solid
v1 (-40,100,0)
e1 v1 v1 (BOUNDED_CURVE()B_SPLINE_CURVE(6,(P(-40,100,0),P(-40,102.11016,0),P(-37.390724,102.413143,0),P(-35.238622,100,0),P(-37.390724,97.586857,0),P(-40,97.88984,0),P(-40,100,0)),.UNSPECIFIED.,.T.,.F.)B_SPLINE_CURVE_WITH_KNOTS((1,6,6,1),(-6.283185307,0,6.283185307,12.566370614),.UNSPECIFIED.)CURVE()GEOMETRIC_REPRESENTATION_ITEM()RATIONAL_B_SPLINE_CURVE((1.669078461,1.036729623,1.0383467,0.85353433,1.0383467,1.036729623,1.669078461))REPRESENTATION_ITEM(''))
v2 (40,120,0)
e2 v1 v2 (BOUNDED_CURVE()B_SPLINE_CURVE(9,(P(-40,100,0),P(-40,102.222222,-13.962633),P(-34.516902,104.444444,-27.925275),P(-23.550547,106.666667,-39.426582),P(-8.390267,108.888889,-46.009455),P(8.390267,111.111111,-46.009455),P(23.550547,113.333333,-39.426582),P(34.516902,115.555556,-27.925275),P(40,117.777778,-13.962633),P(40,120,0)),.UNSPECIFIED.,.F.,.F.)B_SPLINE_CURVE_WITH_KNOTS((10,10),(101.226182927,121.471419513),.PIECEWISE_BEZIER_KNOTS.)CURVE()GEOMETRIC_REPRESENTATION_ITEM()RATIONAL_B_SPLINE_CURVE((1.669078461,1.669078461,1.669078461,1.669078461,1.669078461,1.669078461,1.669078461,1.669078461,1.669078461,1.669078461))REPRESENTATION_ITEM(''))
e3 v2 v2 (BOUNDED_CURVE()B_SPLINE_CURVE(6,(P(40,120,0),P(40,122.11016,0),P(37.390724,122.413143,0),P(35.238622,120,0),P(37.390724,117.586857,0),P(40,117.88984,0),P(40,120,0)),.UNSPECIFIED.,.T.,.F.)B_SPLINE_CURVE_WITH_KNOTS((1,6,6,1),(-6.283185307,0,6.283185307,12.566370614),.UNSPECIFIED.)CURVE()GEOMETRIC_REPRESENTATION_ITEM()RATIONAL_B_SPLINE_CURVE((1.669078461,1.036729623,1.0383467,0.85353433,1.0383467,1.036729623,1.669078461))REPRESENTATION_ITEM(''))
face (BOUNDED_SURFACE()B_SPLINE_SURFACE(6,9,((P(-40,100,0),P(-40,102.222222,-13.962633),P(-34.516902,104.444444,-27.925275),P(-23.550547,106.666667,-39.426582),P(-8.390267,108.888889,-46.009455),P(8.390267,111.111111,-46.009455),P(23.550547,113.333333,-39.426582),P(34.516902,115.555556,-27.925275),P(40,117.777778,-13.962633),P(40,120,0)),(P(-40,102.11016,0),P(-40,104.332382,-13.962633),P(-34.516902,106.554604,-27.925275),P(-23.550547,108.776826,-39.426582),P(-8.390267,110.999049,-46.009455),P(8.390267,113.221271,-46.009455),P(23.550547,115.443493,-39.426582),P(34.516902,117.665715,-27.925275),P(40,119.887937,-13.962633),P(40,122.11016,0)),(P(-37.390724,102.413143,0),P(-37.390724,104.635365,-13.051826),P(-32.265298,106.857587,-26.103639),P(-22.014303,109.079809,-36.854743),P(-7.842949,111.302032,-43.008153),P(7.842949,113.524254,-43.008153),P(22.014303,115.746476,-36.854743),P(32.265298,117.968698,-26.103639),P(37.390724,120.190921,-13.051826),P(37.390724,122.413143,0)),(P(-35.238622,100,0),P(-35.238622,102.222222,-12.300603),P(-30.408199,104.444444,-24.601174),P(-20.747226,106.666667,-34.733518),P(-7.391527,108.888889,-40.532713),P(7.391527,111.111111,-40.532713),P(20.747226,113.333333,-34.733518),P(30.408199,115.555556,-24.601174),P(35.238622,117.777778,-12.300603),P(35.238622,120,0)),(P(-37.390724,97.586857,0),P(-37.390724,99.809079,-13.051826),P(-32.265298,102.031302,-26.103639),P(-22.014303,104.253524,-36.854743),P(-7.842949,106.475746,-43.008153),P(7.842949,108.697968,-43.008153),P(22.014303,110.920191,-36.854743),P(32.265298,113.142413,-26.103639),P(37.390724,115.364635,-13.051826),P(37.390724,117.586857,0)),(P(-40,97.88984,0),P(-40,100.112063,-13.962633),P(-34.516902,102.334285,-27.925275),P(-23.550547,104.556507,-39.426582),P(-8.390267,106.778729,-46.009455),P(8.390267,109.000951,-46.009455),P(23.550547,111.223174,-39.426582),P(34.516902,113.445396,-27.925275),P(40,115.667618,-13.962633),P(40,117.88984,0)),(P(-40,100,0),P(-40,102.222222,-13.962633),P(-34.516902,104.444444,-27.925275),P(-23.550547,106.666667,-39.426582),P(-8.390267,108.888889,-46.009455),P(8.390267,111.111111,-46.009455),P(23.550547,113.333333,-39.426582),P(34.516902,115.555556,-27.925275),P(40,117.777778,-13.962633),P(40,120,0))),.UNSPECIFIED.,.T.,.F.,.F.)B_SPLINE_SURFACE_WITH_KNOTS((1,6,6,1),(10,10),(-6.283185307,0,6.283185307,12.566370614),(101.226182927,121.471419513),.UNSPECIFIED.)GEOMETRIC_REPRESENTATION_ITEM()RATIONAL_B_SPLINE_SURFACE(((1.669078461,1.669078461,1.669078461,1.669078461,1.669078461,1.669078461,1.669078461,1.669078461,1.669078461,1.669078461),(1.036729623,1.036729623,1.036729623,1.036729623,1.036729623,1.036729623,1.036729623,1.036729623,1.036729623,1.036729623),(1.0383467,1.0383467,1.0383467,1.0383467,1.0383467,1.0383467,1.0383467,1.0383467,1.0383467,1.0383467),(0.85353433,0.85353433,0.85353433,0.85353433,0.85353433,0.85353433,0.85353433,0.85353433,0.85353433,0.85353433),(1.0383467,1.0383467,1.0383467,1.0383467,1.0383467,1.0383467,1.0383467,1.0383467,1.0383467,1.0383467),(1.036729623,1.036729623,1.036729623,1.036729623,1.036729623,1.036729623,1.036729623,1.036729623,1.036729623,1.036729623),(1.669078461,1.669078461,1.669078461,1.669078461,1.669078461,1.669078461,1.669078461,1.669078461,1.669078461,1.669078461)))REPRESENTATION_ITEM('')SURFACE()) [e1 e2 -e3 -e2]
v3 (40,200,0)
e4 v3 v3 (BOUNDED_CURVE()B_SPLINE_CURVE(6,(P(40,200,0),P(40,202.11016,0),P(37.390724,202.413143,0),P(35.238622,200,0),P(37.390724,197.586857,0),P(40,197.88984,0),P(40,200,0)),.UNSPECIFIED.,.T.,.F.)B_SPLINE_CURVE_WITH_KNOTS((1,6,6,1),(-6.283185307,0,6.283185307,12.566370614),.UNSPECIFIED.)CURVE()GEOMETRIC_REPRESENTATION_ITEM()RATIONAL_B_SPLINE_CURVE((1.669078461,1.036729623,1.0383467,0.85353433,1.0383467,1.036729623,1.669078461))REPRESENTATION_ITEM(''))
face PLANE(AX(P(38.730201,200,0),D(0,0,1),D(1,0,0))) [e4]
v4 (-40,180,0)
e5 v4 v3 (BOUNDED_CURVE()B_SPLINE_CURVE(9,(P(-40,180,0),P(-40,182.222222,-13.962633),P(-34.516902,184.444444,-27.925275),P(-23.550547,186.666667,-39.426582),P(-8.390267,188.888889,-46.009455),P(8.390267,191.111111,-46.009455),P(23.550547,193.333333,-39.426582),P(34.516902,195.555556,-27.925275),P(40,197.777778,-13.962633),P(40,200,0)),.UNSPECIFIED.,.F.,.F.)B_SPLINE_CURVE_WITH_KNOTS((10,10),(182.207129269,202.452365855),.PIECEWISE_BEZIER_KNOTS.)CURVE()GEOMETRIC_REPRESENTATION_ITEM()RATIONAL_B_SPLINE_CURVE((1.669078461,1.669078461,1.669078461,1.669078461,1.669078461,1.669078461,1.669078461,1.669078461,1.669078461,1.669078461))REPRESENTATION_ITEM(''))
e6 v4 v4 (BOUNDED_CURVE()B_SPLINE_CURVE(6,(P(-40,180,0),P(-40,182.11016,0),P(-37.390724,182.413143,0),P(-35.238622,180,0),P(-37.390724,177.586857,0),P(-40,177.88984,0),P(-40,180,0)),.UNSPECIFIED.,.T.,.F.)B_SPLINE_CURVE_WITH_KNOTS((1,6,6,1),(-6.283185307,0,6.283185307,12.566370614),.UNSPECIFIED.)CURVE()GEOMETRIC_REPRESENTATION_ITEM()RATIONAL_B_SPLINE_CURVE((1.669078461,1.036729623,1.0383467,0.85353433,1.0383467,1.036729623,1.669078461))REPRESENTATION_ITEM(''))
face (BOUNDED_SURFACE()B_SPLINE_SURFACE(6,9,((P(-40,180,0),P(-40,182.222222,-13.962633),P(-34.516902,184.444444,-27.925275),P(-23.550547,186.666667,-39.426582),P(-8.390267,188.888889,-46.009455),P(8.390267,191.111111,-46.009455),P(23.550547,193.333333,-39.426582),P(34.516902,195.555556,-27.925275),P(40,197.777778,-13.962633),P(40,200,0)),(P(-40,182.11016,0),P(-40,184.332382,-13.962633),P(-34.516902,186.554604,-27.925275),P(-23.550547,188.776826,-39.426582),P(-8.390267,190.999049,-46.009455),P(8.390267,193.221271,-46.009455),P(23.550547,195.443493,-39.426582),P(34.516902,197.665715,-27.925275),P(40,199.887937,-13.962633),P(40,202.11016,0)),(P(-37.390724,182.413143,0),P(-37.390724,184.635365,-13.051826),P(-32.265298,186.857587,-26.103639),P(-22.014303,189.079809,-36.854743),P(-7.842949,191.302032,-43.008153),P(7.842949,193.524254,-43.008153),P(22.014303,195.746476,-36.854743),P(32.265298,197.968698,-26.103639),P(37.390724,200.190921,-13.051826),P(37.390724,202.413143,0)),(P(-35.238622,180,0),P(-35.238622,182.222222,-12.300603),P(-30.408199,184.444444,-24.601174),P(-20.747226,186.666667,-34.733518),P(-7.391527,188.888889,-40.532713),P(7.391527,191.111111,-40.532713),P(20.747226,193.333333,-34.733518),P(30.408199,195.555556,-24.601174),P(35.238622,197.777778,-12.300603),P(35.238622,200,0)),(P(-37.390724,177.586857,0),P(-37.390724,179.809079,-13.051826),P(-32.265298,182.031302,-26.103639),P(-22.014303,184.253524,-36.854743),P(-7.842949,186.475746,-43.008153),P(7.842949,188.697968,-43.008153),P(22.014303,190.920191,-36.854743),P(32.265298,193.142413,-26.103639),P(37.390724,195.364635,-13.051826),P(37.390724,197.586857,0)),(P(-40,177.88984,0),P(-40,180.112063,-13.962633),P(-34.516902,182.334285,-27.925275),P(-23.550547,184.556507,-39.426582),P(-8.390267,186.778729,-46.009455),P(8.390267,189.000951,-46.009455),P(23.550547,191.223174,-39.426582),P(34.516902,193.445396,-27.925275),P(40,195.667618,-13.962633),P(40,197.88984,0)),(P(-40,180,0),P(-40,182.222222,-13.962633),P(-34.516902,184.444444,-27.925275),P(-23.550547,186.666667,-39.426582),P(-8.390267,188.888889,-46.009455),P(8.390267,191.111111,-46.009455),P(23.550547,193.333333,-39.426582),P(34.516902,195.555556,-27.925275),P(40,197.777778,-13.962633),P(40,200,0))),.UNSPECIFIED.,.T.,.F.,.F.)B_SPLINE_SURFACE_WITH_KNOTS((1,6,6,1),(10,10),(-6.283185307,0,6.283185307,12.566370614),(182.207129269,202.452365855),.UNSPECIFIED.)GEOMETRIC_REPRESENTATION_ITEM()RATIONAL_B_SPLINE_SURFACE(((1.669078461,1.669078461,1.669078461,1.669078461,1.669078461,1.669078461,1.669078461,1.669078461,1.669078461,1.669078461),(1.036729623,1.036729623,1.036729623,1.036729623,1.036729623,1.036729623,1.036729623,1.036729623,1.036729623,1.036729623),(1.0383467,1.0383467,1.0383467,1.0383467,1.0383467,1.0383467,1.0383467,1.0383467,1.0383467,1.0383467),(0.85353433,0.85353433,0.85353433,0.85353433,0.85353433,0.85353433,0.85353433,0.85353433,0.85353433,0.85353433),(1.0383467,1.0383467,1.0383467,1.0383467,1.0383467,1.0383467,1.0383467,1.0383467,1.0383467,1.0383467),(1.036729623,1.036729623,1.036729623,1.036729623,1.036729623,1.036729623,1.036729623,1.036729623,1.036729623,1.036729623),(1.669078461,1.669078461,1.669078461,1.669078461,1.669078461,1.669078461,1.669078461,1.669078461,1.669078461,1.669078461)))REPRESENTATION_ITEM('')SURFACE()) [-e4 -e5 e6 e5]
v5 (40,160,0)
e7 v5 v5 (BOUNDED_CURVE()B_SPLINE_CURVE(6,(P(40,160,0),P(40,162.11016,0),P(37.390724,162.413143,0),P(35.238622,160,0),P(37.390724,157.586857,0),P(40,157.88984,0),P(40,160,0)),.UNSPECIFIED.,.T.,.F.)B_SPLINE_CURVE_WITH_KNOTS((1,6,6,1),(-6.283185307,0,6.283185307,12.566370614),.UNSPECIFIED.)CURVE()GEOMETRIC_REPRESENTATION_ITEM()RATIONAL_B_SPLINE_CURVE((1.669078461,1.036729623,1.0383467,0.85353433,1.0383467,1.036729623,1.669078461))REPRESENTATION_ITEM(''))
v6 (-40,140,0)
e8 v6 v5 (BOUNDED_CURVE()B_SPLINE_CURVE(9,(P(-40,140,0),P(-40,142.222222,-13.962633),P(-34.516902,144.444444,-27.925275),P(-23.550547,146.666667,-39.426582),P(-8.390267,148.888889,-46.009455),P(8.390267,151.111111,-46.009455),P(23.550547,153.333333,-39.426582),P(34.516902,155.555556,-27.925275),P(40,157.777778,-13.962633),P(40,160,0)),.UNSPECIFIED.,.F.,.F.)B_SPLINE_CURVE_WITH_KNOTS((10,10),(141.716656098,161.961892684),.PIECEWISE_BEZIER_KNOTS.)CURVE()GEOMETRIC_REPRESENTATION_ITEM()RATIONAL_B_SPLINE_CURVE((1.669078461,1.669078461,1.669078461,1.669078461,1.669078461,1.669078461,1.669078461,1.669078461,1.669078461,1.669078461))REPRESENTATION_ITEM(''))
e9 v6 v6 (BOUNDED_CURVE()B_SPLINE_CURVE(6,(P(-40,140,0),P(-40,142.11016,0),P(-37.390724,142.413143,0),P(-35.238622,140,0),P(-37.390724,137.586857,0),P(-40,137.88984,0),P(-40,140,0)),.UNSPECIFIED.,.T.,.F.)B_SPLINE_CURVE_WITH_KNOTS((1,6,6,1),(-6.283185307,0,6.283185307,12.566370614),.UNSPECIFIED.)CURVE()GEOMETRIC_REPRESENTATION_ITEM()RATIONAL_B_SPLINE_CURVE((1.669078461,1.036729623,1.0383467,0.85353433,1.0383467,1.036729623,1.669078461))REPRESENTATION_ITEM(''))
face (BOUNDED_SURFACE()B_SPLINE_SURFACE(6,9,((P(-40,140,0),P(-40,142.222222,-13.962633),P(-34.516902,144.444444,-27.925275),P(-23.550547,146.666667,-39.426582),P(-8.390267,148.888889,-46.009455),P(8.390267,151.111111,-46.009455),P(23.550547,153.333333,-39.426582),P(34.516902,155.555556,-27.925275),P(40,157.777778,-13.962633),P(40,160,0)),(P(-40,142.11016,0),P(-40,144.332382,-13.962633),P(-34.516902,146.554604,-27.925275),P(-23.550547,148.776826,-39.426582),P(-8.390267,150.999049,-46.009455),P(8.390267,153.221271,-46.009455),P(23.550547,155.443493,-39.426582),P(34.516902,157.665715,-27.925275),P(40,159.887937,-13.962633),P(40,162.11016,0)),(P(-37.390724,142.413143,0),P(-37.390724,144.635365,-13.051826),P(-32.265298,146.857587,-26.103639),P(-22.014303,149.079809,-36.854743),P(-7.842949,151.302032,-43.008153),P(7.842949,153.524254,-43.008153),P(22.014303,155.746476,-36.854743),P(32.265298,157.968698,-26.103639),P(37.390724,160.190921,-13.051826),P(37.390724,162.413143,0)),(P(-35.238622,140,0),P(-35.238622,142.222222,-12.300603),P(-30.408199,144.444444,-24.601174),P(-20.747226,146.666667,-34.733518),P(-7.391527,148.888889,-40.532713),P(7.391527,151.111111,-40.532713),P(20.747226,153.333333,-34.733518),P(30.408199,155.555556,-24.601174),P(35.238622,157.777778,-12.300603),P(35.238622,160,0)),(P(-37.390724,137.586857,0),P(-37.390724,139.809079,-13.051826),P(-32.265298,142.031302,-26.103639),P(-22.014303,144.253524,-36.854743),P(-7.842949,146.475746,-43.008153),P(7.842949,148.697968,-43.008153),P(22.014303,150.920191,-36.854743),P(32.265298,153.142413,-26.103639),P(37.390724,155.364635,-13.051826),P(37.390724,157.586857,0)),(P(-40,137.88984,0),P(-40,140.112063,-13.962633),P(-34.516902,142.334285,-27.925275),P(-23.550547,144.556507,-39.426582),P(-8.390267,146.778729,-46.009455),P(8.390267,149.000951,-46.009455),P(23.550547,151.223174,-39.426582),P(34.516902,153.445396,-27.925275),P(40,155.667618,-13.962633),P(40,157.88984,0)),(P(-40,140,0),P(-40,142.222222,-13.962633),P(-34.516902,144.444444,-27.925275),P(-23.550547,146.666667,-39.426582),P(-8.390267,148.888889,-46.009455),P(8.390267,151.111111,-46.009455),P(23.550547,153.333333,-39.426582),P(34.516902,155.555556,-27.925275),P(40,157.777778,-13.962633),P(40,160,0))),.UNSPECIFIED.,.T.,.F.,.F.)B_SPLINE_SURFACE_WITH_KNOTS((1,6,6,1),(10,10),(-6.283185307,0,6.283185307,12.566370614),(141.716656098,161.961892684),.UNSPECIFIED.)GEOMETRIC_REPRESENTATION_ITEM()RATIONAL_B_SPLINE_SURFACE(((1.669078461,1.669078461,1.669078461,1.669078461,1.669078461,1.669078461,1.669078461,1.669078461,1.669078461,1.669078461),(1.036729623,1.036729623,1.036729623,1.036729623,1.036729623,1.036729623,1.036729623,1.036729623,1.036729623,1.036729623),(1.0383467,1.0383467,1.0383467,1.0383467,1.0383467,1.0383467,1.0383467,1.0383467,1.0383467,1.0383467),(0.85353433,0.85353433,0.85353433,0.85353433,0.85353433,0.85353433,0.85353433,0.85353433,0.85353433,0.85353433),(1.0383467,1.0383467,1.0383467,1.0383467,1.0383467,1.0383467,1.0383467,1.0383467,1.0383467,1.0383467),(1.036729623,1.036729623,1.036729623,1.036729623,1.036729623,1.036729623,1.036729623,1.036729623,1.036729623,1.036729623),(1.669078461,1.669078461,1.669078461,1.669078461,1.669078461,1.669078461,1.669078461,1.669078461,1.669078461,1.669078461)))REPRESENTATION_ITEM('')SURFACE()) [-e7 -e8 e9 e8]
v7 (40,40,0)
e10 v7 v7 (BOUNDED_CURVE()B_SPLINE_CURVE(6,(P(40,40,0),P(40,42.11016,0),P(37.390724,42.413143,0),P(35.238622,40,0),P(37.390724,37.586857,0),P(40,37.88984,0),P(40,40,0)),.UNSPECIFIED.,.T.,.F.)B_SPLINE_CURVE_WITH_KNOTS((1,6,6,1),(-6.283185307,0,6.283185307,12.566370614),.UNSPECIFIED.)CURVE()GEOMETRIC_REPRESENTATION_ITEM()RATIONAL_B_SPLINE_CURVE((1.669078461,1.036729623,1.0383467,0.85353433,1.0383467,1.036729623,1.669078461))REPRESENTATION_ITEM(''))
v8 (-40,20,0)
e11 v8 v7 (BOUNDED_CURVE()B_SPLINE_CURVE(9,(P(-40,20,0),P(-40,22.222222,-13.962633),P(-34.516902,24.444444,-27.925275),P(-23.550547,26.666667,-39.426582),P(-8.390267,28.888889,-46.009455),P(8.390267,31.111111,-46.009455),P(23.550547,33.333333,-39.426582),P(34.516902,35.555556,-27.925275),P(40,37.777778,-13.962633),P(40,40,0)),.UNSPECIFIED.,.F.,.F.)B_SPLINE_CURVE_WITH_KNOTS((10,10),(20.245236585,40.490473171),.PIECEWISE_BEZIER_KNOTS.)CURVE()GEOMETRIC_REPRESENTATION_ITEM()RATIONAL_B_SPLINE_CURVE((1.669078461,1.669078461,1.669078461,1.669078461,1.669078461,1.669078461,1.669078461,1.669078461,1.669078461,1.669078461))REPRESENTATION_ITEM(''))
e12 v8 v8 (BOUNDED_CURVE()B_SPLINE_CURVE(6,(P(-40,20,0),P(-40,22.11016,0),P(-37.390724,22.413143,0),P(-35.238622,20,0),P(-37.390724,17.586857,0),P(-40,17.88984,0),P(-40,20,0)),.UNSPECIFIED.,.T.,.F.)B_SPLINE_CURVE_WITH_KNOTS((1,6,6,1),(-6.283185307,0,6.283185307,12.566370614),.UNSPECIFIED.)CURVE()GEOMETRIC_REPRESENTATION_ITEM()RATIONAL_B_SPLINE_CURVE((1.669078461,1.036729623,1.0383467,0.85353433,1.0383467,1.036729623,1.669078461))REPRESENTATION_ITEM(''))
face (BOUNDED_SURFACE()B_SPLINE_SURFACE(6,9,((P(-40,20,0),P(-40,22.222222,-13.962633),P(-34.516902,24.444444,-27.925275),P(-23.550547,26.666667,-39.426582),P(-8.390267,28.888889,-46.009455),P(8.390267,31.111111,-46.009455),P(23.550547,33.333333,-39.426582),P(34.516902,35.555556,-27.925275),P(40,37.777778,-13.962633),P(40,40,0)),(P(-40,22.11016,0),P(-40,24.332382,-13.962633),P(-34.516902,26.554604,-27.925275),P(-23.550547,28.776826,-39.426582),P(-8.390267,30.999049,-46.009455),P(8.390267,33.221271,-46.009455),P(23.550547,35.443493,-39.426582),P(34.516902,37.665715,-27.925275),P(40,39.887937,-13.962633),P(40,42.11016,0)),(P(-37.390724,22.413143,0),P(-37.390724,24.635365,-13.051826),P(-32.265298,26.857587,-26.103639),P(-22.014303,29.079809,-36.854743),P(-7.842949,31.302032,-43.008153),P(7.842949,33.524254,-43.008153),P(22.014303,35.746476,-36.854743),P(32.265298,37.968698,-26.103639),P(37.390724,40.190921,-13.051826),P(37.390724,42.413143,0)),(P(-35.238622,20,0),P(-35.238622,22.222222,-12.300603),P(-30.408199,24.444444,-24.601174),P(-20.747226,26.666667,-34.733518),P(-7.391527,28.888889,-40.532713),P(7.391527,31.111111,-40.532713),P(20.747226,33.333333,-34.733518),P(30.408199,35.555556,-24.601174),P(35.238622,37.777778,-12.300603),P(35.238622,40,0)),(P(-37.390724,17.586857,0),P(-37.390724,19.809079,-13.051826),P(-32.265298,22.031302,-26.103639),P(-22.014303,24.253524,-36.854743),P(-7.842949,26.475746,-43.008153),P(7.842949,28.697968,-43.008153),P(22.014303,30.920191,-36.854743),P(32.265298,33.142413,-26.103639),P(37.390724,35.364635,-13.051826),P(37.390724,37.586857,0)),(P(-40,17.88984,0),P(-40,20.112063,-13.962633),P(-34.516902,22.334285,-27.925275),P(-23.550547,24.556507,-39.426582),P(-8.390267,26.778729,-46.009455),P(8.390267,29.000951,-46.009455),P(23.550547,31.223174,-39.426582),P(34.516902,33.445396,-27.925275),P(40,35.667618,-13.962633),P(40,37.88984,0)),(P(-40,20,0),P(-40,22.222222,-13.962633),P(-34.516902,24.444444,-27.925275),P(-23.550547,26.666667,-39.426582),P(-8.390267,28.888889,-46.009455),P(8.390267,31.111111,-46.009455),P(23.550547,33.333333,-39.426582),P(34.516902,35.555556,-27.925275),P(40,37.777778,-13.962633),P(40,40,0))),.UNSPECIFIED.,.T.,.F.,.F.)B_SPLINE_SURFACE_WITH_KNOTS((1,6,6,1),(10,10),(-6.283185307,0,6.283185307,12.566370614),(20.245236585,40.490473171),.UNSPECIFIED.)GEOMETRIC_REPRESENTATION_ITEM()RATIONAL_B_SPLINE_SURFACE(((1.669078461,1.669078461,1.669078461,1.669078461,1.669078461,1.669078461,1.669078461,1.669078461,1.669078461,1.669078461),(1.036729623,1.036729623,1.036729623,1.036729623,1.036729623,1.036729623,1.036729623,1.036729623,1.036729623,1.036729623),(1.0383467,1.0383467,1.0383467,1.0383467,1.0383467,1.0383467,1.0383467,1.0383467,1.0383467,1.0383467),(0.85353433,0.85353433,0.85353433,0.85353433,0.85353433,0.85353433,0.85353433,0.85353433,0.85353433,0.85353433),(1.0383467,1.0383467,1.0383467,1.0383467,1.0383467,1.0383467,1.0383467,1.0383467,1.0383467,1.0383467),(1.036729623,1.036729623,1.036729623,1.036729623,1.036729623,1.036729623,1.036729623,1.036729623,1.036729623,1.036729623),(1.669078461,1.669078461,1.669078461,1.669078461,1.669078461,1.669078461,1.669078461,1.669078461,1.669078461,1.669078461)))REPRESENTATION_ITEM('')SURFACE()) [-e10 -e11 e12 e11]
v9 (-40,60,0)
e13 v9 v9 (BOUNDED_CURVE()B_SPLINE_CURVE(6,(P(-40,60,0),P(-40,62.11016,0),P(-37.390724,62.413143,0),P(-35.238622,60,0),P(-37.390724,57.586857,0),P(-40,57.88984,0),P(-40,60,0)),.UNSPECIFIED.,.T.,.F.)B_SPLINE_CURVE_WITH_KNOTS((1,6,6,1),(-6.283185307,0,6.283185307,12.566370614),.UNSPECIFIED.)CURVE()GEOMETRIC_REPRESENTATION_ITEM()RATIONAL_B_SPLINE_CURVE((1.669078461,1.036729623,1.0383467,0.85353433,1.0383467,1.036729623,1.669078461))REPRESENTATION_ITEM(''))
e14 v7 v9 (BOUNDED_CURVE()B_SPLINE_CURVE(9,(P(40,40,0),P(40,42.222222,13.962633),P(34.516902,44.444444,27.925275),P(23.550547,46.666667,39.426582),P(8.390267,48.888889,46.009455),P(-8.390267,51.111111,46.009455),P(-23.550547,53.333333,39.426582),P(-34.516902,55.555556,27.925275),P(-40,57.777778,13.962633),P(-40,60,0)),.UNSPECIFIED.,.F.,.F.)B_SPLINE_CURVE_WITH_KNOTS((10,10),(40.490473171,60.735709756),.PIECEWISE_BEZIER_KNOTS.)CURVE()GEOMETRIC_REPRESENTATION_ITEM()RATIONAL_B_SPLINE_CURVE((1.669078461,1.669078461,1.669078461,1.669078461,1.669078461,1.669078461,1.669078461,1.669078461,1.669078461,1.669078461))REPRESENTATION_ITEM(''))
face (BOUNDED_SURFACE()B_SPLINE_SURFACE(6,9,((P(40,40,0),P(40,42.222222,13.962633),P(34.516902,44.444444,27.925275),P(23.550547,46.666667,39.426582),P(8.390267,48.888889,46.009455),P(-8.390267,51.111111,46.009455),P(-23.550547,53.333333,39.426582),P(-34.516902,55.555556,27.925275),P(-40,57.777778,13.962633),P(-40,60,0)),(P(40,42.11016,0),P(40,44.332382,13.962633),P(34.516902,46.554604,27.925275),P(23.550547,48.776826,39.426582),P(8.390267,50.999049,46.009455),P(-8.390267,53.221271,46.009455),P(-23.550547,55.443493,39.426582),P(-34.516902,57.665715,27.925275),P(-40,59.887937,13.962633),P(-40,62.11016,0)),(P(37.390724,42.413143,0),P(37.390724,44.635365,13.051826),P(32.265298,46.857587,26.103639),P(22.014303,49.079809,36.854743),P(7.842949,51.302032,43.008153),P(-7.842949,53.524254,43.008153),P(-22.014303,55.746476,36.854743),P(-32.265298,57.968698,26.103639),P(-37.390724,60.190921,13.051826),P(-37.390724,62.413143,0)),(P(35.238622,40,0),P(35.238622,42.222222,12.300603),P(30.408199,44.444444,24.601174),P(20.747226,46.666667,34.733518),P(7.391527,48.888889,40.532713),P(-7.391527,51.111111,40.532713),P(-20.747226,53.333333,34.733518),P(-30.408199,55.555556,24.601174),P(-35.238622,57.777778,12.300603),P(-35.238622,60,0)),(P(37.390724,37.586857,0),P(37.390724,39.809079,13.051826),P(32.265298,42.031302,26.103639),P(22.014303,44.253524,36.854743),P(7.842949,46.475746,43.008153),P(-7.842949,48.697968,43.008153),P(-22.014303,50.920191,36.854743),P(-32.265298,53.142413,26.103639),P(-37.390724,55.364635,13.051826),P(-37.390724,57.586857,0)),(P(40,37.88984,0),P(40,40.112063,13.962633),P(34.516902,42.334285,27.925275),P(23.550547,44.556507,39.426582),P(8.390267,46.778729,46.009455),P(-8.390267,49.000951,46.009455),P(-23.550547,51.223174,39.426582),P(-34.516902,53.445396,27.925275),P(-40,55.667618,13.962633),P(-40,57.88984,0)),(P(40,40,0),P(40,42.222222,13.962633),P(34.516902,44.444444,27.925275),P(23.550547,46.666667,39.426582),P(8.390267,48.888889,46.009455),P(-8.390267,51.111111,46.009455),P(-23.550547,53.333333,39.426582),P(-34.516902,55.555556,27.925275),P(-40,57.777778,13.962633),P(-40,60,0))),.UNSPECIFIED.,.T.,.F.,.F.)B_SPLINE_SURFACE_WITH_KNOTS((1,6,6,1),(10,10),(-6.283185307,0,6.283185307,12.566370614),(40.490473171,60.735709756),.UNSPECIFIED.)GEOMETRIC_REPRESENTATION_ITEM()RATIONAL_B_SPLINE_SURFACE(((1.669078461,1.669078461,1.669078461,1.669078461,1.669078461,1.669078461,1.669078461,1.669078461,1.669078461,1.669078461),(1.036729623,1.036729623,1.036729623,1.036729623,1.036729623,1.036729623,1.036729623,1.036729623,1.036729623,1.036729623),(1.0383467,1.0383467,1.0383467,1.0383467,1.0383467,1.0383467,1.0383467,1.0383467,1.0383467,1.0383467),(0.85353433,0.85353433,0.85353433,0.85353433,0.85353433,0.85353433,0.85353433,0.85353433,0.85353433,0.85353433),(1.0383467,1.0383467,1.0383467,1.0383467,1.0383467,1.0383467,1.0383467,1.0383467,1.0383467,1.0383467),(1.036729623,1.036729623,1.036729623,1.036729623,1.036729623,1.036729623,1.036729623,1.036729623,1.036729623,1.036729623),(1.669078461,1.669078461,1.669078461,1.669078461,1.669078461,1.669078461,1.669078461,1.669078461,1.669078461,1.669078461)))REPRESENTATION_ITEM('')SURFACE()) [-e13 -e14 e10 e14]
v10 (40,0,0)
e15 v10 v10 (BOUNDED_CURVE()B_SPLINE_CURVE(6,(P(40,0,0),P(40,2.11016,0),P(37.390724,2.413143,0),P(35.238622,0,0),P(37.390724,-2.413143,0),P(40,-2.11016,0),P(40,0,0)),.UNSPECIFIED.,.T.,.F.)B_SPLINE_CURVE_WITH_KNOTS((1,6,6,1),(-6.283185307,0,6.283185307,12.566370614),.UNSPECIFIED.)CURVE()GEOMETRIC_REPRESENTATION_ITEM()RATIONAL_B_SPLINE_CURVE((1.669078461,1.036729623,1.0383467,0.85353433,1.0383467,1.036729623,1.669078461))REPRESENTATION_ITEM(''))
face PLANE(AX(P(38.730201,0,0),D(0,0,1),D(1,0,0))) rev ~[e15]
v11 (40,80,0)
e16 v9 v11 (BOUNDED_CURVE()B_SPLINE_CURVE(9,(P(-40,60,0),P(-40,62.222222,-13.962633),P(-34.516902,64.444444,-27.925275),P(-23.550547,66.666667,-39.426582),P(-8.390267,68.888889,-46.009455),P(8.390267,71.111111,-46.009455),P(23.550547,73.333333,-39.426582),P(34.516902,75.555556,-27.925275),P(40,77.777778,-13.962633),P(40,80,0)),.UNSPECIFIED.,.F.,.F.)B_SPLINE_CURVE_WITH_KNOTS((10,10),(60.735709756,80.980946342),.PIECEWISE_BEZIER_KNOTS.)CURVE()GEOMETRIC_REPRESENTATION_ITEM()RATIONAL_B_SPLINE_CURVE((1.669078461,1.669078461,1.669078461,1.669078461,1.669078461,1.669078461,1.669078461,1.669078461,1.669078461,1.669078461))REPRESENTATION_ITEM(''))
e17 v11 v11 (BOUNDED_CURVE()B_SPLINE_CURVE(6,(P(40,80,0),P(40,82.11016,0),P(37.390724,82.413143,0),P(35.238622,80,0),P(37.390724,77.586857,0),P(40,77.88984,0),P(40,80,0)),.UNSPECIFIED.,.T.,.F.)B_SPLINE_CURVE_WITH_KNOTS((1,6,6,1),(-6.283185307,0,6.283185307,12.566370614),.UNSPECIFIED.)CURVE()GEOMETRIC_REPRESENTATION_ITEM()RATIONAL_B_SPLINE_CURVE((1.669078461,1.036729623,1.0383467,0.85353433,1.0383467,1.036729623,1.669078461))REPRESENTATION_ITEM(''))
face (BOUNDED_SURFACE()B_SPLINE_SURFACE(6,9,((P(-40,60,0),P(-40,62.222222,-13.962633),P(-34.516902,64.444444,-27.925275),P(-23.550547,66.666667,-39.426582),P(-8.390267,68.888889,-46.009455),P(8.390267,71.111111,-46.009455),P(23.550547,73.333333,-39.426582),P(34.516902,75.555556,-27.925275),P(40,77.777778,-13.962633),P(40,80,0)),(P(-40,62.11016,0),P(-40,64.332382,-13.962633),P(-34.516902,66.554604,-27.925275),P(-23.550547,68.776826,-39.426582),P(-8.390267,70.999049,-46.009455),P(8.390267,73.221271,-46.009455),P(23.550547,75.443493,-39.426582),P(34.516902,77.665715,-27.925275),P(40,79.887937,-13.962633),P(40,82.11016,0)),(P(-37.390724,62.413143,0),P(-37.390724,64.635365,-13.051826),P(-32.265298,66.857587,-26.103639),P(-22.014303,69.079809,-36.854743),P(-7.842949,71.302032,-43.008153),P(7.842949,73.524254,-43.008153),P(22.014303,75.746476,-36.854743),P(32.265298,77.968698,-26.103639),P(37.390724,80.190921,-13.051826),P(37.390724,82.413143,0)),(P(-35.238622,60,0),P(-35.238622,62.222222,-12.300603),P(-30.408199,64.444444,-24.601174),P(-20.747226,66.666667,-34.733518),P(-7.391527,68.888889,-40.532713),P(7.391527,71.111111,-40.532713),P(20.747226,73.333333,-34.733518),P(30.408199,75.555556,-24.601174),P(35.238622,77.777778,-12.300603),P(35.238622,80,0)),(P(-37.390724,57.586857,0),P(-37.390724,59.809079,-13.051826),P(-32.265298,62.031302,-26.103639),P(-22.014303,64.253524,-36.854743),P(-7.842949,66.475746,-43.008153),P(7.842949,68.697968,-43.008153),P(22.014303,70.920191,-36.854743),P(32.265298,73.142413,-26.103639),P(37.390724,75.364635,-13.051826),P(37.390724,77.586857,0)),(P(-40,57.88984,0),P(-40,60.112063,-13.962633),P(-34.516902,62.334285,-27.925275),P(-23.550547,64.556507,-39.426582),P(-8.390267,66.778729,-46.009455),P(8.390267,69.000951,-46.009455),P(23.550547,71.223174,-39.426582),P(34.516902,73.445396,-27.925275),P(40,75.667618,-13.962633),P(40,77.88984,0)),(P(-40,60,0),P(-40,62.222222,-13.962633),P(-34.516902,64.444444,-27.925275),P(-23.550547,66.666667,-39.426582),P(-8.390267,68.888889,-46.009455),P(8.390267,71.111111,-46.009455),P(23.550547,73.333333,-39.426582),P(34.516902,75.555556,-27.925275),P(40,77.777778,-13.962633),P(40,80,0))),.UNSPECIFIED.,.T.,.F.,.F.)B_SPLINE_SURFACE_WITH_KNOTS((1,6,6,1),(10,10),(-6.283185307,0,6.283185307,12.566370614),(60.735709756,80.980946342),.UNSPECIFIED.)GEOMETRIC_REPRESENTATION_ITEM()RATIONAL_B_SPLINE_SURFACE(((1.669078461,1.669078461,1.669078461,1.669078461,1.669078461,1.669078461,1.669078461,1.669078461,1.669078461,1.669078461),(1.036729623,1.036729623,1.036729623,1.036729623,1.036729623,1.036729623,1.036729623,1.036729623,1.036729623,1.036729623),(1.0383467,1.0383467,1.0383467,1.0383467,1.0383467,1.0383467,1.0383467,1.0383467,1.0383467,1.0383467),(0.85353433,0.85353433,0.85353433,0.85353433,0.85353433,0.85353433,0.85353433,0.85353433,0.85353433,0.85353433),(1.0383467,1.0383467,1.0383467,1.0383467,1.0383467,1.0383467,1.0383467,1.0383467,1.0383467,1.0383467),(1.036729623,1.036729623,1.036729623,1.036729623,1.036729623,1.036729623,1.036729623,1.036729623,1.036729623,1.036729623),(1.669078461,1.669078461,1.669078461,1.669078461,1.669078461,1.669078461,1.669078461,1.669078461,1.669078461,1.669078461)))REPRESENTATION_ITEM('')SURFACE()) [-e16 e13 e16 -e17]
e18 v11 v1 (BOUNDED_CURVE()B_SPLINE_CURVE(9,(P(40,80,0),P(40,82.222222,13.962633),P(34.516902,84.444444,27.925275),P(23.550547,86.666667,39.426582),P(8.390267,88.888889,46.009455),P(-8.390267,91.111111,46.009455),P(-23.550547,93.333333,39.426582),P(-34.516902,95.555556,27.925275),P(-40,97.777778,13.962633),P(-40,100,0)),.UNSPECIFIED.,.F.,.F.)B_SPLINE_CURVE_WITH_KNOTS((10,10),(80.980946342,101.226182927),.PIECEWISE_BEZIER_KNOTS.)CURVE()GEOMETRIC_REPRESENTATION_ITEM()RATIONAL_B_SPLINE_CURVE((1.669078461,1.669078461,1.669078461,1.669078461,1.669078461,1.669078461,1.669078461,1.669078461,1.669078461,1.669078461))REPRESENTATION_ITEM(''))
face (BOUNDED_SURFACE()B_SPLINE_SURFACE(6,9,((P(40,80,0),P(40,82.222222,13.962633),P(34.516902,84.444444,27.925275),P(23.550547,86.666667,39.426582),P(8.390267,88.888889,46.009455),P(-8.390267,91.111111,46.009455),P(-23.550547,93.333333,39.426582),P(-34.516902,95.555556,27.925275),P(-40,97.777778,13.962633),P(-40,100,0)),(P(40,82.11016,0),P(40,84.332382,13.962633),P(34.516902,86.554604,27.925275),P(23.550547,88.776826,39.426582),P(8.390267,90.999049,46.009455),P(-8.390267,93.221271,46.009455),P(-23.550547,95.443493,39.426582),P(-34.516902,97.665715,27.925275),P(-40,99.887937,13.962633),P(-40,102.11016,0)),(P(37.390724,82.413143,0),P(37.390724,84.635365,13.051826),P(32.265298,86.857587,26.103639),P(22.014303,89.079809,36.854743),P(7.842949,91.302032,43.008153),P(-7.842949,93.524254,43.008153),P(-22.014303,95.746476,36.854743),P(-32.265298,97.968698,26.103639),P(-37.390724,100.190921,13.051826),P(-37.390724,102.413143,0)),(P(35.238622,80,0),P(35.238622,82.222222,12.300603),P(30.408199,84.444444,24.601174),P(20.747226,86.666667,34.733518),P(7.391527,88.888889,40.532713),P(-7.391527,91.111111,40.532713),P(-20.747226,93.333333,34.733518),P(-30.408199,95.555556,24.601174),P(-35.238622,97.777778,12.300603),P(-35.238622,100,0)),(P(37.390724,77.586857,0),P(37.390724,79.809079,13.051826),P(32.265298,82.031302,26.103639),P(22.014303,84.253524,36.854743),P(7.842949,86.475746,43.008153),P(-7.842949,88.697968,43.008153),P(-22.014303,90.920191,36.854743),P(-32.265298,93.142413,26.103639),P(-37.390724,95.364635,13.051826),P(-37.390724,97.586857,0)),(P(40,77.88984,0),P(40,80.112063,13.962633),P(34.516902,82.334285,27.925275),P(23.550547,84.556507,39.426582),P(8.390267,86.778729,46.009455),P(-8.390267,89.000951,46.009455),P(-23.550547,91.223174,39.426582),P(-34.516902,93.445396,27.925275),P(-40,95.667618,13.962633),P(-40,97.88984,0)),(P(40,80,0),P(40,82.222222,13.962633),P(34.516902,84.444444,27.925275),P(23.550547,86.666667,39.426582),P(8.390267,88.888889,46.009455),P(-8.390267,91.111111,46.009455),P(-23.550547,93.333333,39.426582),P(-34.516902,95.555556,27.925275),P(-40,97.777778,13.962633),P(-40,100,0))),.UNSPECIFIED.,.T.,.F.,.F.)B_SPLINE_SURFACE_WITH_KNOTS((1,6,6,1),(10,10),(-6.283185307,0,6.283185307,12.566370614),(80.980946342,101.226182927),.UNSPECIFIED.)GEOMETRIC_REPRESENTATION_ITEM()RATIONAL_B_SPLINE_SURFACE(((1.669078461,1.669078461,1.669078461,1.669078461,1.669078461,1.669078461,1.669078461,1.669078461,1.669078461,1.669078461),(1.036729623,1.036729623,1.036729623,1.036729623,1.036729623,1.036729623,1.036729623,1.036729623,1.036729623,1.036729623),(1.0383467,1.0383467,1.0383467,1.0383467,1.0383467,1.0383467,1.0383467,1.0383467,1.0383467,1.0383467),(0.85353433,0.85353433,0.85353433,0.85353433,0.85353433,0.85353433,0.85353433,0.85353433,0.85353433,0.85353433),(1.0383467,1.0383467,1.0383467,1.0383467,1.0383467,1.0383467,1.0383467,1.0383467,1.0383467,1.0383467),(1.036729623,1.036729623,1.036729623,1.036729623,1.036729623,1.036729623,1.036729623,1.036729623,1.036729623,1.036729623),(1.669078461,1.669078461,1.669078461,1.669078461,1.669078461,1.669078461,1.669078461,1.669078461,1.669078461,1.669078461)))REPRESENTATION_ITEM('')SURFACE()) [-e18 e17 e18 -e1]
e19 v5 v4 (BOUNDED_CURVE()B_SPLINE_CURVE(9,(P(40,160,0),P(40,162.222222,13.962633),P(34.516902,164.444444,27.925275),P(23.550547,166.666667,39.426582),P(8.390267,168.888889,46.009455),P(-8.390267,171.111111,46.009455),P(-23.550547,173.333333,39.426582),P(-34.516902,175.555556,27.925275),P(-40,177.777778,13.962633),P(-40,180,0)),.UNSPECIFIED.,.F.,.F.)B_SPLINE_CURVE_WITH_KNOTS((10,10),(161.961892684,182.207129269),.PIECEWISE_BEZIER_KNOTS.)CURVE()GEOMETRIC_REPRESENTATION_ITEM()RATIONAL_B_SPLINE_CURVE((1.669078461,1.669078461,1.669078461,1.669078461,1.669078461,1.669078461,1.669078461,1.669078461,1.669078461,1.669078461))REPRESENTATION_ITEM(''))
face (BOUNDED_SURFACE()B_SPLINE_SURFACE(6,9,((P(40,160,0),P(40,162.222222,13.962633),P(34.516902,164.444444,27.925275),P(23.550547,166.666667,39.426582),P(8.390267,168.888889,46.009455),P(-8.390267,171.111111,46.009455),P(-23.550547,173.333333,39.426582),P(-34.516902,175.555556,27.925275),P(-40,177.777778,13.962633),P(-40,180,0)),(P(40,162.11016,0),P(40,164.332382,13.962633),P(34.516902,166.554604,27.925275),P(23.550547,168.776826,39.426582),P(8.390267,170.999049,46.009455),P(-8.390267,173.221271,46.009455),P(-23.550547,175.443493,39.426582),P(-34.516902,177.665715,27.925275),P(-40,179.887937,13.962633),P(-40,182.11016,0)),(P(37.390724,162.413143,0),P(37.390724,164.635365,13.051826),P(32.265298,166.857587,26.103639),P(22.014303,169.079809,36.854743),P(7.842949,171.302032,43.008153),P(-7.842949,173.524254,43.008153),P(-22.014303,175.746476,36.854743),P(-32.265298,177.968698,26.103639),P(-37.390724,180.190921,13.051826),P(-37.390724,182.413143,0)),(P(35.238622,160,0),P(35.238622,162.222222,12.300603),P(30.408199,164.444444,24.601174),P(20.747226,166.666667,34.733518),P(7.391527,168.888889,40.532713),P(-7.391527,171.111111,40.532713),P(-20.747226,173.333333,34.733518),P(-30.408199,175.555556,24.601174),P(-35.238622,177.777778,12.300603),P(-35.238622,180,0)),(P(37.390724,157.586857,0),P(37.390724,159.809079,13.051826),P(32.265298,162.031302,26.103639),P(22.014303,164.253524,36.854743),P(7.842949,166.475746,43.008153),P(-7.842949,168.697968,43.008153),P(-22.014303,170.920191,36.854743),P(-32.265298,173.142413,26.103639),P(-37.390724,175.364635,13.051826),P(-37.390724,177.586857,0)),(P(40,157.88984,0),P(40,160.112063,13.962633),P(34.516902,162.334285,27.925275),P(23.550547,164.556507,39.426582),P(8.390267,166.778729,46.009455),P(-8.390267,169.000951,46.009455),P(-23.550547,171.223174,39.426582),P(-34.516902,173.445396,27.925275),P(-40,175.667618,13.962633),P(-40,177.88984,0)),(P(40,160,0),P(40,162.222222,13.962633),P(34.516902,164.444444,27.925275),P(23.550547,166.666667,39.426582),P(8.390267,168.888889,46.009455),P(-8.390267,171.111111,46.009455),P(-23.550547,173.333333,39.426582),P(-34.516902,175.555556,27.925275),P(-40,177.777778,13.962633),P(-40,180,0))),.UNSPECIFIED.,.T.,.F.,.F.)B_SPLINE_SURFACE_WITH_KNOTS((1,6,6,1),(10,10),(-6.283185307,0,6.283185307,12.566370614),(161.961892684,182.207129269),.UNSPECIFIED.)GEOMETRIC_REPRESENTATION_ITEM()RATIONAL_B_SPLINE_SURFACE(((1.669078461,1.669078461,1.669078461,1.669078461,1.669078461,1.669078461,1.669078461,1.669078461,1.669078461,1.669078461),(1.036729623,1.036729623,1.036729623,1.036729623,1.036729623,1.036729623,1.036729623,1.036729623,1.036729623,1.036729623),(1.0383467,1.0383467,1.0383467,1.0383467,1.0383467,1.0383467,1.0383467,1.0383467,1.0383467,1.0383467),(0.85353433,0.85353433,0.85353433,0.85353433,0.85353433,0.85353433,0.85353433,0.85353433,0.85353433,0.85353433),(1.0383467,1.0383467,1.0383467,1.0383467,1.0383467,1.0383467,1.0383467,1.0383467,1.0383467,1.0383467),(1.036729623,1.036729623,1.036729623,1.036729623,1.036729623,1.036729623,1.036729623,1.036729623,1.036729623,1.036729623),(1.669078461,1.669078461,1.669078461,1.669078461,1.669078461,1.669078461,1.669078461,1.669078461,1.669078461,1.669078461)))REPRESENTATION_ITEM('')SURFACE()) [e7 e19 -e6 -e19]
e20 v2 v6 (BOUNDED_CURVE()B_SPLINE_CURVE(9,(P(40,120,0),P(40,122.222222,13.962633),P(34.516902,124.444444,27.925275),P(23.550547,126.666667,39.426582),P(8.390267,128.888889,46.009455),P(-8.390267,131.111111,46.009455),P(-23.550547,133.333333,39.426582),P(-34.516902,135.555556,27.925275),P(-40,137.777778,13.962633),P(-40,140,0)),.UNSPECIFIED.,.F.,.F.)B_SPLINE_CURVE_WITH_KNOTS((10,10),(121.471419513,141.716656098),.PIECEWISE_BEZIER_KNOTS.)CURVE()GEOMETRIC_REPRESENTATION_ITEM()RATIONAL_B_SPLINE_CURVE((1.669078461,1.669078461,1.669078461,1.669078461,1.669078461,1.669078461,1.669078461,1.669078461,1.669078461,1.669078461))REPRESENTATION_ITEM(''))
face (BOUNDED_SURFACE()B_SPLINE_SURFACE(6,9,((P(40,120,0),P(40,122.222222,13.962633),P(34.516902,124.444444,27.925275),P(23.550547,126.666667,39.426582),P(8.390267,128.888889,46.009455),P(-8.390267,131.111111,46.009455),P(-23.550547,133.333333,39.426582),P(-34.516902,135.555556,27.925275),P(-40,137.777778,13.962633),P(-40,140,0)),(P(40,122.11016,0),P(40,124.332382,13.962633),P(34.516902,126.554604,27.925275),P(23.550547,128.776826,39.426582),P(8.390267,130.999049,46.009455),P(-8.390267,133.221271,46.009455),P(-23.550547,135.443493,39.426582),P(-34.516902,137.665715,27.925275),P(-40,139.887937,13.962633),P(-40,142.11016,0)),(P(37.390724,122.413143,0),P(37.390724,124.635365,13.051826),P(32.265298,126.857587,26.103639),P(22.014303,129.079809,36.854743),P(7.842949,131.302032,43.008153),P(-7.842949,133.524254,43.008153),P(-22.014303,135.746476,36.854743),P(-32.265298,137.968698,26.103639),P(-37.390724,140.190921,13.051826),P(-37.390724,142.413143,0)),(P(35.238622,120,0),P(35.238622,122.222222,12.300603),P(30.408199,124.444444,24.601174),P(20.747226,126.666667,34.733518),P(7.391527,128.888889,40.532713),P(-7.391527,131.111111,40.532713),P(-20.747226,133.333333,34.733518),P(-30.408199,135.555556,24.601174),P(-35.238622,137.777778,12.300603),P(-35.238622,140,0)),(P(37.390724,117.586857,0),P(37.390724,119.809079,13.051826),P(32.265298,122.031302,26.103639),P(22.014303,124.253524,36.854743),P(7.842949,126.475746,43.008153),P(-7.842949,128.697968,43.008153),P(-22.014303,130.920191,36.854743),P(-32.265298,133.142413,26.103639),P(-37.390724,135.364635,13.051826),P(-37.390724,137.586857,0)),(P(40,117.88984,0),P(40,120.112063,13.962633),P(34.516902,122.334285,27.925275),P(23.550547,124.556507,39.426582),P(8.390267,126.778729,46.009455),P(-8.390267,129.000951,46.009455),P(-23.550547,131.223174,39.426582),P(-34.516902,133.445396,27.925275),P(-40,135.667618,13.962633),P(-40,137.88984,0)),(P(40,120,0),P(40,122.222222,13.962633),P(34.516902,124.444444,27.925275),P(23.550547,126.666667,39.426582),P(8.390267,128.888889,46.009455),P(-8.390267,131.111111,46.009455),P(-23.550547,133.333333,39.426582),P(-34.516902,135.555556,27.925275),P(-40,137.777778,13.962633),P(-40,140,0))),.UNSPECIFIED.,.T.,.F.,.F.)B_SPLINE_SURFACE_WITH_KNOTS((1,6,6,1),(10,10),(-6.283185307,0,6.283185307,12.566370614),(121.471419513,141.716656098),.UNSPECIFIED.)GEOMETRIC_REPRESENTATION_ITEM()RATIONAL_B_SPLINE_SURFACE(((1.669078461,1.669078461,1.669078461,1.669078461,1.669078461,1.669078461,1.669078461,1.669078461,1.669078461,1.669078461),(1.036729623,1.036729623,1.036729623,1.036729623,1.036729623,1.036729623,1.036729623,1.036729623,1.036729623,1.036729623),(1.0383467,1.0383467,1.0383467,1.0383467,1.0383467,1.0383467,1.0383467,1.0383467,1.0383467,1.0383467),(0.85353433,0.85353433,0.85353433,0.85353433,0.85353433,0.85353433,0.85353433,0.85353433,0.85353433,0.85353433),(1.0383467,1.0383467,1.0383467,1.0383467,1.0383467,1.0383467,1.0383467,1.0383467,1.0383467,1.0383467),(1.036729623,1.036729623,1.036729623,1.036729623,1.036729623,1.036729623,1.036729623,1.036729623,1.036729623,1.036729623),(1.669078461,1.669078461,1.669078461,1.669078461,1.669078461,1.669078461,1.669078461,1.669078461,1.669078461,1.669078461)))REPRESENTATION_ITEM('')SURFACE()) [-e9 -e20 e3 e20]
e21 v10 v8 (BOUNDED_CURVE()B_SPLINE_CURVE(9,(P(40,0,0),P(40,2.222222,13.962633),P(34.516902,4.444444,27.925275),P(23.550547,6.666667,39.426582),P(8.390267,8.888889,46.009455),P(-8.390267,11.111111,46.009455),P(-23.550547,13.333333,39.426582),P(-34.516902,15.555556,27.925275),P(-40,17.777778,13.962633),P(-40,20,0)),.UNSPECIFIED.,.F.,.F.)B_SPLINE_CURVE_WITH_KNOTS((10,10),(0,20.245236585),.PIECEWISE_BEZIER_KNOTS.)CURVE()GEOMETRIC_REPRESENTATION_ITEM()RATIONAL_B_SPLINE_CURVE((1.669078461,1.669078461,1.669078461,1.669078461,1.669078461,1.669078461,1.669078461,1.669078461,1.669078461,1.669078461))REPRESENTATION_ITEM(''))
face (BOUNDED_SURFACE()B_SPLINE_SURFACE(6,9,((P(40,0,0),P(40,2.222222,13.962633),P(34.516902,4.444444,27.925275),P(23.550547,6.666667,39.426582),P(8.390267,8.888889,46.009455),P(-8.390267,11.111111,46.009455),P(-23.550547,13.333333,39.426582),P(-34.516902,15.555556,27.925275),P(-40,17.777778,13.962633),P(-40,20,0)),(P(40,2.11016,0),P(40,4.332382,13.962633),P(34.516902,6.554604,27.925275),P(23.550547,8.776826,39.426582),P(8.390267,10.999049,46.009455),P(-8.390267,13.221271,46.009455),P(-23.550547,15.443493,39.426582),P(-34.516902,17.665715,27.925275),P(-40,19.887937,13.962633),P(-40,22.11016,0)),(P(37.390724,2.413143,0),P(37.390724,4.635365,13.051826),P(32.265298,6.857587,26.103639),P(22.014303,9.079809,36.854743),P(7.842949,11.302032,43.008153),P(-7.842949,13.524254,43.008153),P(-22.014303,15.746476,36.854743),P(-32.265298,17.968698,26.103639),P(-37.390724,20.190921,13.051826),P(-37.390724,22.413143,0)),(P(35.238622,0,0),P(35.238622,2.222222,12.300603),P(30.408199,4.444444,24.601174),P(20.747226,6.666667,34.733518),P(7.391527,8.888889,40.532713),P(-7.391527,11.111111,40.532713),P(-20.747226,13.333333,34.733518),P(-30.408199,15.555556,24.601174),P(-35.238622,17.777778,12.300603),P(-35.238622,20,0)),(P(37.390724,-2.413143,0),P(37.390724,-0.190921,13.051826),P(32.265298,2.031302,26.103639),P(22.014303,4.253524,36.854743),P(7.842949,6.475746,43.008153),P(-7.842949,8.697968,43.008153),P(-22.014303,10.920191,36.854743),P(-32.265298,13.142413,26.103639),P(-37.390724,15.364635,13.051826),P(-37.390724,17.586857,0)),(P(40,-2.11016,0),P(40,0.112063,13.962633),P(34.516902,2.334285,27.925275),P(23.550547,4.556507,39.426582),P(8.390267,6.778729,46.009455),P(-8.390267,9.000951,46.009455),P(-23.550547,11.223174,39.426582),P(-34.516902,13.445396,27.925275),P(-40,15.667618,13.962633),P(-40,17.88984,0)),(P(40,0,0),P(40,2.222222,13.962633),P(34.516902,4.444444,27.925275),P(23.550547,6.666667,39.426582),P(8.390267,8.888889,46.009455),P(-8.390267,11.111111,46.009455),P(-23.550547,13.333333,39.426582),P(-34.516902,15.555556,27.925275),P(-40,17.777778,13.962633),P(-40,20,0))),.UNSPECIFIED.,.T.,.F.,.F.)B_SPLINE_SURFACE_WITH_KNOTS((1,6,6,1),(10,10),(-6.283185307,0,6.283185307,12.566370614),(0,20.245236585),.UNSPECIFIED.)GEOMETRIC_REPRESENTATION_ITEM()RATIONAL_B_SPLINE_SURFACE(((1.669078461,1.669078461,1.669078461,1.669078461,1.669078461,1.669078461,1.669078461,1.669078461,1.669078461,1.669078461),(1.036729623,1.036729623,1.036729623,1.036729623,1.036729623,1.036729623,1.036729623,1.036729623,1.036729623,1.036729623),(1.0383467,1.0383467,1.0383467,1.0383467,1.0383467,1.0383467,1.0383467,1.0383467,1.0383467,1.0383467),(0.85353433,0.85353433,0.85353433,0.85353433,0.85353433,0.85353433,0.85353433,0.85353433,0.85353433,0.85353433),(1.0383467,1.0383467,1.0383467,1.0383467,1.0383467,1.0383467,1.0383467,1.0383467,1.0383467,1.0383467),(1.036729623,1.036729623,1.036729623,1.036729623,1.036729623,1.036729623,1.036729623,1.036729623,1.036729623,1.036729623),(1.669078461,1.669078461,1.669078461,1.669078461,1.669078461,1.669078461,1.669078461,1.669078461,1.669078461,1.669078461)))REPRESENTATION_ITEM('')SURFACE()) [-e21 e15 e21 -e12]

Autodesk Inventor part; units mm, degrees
ref_plane "YZ Plane" through (0, 0, 0) normal (1, 0, 0) x (0, 1, 0)
ref_plane "XZ Plane" through (0, 0, 0) normal (0, 1, 0) x (-1, 0, 0)
ref_plane "XY Plane" through (0, 0, 0) normal (0, 0, 1) x (1, 0, 0)
sketch "Sketch1" plane through (0, 0, 0) normal (0, 0, 1) x (1, 0, 0)
  line L0 (40, 0) -> (-40, 0) projected
  line L1 (40, 200) -> (-40, 200) projected
  line L2 (0, 200) -> (0, 0)
  line L3 (-37.46, 200) -> (37.46, 200)
  dimension "d0" = 80
  dimension "d1" = 200
  dimension "d2" = 74.92
sketch "Sketch2" plane through (0, 0, 0) normal (0, 0, 1) x (1, 0, 0)
  line L0 (40, 0) -> (-40, 0) construction
  circle A0 centre (38.73, 0) radius 1.27
  point P0 (0, 0)
  dimension "d3" = 2.54
coil "Coil1" sketch "Sketch2" operation add axis through (0, 200, 0) along (0, 1, 0) pitch 40 turns 5 hand left
equation "\"d5\" = d1"
properties part number "CE-9.3.1-01-002"
